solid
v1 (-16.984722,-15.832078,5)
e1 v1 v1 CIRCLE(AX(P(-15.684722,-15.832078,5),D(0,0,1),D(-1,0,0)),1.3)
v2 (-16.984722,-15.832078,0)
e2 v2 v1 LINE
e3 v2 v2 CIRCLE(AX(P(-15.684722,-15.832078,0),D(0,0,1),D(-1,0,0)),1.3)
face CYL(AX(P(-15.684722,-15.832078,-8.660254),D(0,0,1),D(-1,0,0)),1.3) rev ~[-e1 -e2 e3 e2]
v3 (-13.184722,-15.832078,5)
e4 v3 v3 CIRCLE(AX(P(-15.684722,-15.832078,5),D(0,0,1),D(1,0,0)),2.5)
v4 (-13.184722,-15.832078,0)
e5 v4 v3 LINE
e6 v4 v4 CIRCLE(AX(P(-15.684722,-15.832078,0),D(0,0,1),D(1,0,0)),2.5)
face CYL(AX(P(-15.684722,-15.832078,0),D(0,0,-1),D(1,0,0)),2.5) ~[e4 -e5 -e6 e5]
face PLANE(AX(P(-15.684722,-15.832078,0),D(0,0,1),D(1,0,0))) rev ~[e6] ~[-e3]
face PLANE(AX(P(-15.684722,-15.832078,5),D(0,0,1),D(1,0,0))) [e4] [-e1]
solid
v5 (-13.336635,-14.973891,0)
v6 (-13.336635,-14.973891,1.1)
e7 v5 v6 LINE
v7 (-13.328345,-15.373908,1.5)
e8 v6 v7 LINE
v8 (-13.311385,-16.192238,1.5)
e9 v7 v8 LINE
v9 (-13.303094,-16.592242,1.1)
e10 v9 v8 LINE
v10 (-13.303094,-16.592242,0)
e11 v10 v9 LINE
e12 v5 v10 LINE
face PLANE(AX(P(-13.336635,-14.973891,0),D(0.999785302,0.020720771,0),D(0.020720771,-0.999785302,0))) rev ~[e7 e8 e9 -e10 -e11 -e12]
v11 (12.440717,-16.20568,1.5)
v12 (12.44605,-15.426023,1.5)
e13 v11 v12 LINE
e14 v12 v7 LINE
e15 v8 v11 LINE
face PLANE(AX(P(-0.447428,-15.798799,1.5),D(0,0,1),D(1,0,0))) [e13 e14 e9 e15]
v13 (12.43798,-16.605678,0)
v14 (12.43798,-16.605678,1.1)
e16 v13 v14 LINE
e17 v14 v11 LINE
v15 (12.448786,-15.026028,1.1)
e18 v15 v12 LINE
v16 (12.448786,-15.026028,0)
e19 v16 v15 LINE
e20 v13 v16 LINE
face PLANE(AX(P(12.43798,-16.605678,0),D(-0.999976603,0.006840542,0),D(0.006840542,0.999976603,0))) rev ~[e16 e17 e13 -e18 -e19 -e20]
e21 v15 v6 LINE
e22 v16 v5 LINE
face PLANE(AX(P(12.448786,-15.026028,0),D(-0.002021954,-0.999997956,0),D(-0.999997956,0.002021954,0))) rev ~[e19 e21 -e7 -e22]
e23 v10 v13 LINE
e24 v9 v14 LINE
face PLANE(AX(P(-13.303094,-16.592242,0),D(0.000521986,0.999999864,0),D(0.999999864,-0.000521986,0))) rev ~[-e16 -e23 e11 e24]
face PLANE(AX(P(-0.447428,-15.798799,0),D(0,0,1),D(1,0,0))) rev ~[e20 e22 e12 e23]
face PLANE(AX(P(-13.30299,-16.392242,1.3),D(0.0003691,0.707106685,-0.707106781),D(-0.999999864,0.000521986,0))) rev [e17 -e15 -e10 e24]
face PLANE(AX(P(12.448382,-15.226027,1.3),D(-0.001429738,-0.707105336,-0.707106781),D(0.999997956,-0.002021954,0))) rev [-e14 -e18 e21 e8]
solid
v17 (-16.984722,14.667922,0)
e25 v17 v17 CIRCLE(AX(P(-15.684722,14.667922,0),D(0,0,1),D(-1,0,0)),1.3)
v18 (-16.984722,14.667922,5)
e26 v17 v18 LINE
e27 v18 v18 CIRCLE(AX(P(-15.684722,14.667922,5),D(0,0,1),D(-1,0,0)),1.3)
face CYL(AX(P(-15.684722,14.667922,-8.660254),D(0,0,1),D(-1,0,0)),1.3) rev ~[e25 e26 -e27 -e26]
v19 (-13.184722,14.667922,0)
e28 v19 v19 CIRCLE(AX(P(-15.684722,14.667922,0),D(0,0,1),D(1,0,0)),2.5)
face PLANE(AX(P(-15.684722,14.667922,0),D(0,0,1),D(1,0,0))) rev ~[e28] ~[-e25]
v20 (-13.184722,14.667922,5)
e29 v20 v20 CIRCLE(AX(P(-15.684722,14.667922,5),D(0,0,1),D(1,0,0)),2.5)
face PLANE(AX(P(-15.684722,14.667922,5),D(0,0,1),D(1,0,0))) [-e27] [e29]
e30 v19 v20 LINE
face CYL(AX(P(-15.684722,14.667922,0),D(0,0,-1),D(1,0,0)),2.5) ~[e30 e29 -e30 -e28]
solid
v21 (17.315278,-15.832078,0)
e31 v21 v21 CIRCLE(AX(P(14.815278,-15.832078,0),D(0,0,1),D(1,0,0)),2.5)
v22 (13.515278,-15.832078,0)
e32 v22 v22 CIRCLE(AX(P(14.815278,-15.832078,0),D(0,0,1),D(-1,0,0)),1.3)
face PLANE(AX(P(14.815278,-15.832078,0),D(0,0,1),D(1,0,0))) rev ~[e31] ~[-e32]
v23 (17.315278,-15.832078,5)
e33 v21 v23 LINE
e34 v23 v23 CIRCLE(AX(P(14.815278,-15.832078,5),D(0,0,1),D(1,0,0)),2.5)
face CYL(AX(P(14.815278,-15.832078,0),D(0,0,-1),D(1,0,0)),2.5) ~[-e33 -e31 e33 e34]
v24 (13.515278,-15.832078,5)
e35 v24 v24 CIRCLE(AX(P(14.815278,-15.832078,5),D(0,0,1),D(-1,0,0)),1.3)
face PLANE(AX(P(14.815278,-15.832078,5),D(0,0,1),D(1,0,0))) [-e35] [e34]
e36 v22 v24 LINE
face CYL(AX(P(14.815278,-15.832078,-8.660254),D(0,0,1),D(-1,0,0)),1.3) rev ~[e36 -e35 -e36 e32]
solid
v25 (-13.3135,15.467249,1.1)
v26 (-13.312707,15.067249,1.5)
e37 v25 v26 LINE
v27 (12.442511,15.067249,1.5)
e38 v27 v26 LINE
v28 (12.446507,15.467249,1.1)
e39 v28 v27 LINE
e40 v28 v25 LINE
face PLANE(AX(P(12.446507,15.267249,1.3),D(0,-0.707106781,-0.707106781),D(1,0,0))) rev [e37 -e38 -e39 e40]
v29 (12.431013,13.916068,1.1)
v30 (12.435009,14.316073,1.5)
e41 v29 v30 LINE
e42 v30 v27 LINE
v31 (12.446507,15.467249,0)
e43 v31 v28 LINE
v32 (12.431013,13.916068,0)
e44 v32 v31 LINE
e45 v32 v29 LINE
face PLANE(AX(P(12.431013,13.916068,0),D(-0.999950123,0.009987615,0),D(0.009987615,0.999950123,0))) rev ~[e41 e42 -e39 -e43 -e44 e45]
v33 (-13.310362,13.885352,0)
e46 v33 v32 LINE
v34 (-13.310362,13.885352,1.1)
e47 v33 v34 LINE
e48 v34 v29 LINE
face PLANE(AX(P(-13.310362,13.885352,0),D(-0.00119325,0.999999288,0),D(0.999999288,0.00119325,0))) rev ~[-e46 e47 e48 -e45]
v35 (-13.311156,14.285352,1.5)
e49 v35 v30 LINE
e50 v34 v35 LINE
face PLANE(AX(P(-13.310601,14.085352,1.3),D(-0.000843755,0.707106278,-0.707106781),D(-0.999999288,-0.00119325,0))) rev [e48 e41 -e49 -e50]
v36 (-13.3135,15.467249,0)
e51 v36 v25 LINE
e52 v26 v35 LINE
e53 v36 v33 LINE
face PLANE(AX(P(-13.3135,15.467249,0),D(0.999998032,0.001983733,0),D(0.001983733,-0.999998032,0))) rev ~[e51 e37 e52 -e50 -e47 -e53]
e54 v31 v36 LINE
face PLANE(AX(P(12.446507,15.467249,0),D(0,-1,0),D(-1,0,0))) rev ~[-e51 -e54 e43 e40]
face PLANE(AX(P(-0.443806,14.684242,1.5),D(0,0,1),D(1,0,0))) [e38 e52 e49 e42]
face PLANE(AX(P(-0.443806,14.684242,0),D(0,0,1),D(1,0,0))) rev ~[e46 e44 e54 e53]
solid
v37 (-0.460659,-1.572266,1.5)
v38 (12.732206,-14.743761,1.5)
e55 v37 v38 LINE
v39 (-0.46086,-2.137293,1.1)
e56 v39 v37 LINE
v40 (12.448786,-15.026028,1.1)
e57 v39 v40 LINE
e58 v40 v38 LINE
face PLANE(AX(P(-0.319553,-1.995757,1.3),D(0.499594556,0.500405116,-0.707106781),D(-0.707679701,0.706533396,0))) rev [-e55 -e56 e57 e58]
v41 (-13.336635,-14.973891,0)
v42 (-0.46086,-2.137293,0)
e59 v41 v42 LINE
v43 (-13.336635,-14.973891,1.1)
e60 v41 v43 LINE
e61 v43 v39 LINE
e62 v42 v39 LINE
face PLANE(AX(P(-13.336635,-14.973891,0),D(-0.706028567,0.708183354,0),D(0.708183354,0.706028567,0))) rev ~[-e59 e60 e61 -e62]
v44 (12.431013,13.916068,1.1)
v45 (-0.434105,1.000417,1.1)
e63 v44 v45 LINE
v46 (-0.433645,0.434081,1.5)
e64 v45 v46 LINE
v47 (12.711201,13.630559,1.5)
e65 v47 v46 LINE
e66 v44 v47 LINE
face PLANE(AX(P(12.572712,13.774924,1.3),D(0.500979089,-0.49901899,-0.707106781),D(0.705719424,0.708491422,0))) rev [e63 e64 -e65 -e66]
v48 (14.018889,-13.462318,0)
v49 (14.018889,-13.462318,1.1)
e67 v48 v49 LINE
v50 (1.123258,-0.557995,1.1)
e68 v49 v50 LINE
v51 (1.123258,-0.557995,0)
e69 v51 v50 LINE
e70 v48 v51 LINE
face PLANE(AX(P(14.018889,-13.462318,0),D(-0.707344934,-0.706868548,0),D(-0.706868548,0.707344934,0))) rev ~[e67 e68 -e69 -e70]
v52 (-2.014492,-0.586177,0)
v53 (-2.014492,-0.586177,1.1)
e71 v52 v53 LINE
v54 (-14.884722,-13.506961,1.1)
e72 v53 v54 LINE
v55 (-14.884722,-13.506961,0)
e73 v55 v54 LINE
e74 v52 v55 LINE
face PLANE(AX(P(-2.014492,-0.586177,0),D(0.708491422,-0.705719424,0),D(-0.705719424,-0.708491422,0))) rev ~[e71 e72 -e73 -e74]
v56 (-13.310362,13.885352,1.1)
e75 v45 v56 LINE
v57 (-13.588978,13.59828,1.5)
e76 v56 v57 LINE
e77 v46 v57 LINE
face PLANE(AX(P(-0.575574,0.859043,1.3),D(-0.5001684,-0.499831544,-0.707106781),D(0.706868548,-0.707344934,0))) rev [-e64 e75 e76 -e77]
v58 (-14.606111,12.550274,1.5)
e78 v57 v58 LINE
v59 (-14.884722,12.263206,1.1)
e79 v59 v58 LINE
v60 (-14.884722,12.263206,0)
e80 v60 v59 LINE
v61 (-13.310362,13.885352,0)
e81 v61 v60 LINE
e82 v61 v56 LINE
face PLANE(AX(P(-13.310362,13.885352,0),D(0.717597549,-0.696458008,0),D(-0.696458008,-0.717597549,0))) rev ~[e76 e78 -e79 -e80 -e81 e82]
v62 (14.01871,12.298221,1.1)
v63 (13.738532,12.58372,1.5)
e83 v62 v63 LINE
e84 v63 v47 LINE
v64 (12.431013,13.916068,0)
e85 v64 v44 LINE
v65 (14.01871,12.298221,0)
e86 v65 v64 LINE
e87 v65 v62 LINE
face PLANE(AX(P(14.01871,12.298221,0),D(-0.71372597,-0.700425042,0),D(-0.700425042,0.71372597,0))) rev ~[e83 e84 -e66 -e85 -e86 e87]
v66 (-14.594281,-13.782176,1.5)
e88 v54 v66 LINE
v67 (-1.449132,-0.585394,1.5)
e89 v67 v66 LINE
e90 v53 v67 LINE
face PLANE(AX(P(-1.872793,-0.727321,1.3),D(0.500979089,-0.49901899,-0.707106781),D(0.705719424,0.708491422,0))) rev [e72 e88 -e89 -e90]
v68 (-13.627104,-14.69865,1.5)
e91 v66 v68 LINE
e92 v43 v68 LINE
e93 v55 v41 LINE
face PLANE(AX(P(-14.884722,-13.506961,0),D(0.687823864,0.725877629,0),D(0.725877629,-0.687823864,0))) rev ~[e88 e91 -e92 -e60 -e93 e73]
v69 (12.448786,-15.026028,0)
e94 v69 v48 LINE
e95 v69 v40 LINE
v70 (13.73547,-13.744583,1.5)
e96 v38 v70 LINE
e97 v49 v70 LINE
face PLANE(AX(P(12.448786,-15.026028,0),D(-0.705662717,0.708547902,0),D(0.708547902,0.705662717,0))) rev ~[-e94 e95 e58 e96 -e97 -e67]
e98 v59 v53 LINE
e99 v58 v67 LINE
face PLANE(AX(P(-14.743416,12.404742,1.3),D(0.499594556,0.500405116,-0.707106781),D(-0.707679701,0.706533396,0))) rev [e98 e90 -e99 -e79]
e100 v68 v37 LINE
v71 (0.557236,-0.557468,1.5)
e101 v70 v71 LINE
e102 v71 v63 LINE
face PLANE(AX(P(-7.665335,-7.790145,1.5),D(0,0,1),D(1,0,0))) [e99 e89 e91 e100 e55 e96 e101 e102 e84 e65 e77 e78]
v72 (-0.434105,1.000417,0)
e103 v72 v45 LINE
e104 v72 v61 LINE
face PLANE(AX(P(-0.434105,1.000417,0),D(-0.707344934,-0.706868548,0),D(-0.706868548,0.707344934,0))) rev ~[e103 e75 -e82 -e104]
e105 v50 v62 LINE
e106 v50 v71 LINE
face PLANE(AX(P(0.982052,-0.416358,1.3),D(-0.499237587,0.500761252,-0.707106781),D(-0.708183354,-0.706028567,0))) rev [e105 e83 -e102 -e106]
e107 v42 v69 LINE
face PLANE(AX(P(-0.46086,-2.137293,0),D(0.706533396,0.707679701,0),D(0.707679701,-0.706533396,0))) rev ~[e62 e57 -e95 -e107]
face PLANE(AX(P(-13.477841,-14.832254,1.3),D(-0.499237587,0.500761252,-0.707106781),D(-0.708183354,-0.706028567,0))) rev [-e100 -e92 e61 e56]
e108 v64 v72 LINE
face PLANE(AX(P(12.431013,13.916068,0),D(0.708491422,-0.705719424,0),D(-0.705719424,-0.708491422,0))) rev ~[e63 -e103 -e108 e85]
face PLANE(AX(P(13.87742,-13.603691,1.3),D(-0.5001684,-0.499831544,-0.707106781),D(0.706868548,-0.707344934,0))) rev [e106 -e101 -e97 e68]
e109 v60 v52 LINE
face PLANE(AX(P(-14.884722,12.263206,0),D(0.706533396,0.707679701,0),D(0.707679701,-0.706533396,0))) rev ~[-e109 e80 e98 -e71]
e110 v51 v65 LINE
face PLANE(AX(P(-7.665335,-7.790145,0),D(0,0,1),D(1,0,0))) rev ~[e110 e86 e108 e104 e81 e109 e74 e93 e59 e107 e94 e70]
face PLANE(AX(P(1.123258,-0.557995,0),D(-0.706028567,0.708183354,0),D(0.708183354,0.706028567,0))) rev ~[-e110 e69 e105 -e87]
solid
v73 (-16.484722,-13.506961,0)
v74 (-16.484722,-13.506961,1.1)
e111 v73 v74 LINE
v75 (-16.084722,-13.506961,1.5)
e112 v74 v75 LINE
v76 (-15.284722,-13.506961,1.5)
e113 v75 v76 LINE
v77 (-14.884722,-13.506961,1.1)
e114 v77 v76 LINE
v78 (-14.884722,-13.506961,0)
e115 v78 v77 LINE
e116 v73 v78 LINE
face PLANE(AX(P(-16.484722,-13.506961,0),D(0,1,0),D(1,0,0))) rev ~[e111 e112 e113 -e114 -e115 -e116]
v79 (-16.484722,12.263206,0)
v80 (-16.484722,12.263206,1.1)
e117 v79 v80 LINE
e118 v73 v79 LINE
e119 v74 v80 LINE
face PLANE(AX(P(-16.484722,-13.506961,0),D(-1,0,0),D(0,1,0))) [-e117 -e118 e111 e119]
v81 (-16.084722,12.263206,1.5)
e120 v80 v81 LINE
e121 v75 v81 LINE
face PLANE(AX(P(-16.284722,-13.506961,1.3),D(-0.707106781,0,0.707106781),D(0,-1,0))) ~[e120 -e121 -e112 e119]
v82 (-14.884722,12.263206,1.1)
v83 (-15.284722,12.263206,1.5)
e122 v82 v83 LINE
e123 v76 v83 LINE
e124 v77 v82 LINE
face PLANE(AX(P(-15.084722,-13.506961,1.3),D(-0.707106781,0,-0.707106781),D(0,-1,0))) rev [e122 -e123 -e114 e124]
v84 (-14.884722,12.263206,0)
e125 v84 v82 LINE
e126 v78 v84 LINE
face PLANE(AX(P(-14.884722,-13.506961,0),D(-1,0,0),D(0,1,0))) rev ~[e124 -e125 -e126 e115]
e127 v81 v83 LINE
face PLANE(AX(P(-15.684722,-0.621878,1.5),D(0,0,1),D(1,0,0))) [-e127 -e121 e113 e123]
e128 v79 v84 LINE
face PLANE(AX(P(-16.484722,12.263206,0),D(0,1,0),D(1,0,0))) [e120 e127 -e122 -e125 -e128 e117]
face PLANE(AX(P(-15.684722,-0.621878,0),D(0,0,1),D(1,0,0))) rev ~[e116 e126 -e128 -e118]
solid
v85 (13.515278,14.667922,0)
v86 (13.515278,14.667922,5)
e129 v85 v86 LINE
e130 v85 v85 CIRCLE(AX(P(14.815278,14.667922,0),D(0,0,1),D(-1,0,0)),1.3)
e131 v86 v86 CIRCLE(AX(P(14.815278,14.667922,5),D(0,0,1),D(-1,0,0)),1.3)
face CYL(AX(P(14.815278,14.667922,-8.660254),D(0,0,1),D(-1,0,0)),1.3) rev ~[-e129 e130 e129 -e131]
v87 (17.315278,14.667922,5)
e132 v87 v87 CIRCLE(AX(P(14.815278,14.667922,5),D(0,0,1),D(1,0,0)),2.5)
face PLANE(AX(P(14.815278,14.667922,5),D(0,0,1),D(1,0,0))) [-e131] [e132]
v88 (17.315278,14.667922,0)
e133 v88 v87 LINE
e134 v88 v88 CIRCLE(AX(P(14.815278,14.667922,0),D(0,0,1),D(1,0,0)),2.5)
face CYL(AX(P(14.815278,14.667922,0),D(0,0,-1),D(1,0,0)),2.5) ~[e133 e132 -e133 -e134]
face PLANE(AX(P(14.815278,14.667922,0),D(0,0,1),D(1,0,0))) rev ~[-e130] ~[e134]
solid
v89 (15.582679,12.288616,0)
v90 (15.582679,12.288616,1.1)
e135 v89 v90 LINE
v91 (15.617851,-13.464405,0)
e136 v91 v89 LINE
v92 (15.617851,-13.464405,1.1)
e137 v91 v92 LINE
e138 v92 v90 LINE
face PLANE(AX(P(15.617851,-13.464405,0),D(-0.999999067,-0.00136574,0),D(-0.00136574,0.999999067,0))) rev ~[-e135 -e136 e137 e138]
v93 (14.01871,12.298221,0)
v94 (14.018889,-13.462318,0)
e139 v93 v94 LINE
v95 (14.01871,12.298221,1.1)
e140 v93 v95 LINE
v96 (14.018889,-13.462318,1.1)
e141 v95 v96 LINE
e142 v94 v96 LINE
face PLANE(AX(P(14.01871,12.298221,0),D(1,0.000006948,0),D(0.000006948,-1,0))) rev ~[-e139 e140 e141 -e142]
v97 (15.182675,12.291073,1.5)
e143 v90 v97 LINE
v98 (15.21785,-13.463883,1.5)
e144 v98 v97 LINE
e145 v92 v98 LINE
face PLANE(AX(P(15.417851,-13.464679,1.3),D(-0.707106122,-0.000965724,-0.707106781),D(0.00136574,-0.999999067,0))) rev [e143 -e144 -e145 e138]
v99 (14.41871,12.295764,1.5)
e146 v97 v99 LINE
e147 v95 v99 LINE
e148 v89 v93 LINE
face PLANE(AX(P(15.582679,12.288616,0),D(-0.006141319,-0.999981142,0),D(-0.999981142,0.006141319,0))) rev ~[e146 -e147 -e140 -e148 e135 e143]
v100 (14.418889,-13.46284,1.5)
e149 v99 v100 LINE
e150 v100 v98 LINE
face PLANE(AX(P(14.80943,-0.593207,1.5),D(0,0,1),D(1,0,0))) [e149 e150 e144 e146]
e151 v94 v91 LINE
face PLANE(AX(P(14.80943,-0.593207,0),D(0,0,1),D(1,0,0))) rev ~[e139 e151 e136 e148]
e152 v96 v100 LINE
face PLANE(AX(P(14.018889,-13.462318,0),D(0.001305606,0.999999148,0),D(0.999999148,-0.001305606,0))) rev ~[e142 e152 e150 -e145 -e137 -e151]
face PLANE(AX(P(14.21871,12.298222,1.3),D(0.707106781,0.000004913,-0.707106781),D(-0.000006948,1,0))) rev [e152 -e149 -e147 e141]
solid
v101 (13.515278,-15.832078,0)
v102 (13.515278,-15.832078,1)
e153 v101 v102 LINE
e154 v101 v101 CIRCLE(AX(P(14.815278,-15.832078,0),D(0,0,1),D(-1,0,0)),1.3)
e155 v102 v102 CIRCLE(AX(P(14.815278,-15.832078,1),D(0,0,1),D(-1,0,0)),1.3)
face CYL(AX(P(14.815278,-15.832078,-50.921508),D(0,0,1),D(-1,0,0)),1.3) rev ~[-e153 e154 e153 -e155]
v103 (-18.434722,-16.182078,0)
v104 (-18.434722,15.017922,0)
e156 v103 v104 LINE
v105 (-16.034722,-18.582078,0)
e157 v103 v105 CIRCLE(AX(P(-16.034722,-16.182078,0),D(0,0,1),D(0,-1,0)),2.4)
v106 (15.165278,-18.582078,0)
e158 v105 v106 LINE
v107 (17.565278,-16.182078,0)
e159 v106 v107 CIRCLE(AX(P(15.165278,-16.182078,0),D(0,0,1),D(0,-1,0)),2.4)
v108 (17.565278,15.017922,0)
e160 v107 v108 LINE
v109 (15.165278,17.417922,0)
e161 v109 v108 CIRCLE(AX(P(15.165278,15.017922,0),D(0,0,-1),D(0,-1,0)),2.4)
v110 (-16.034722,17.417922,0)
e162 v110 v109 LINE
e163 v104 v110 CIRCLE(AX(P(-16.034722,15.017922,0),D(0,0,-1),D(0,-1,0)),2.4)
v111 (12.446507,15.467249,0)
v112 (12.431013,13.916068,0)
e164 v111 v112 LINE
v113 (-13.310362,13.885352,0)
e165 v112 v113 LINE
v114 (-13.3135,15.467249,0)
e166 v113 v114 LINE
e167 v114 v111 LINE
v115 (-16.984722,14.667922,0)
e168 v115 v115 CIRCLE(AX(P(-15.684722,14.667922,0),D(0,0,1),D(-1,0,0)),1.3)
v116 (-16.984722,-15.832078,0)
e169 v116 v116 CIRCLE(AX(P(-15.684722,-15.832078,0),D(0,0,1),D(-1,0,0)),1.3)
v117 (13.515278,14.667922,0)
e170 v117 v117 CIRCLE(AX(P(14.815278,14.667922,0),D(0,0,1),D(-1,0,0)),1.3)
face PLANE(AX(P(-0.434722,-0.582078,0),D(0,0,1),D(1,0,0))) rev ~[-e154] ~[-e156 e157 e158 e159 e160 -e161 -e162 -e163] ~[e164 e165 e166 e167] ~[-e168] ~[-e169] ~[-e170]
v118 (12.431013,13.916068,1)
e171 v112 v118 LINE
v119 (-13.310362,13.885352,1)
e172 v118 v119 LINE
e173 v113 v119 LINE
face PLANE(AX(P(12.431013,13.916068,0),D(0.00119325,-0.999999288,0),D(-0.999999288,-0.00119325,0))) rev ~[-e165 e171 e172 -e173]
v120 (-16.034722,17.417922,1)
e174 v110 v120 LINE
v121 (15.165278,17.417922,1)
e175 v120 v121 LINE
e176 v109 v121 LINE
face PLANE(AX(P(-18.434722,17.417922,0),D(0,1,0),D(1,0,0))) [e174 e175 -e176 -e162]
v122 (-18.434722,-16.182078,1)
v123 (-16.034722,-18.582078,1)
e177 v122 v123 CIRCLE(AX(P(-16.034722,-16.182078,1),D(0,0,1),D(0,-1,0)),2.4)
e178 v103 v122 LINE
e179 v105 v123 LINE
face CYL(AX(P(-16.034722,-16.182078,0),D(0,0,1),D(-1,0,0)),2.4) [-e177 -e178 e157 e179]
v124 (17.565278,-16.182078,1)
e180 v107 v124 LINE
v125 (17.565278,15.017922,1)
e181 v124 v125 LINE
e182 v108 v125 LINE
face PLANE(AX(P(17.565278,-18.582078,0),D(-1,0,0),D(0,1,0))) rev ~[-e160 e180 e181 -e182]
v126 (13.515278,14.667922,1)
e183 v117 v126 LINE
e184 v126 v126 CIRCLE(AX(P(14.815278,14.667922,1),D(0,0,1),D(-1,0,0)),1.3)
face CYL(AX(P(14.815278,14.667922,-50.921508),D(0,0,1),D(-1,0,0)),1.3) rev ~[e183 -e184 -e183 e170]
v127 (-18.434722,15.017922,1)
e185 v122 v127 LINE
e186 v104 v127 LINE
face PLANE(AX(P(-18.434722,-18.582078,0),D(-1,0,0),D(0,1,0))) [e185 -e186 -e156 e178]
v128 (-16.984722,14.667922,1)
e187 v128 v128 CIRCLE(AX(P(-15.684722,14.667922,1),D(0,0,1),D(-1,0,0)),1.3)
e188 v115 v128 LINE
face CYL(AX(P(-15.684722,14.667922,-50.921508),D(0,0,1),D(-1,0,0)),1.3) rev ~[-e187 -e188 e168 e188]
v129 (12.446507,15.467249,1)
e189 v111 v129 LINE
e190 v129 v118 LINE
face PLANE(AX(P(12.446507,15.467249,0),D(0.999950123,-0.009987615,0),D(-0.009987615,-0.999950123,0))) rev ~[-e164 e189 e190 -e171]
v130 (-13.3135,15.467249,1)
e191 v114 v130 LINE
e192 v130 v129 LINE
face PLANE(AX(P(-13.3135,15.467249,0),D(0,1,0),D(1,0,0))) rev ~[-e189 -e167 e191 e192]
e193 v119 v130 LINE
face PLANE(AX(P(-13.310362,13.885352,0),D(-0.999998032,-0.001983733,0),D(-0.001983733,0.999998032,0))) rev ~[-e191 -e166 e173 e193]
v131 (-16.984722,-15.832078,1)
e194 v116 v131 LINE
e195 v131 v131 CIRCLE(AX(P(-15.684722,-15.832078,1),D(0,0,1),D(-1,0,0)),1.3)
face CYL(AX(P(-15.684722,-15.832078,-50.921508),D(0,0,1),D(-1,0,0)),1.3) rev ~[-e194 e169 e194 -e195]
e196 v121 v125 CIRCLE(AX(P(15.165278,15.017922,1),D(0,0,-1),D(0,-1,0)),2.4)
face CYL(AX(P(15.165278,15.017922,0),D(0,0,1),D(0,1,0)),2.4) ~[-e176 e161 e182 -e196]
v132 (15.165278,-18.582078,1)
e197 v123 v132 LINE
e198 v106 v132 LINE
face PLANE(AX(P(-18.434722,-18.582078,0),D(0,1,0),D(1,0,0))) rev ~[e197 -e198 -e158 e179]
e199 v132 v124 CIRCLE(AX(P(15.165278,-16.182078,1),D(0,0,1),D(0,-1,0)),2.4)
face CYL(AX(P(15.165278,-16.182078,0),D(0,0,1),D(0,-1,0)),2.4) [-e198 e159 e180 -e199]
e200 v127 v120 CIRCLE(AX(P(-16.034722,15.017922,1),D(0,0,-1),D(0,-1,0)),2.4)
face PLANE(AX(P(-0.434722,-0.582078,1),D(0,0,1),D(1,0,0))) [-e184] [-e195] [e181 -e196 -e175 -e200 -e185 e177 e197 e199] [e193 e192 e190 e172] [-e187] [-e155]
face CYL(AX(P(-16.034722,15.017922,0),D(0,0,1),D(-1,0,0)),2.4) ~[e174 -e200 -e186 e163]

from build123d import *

# Parameters (mm, degrees)
F1_W      = 36
F1_H      = 36
F1_W_2    = 1.6
F1_H_2    = 25.7701668888
F3_DEPTH  = 1
F4_DEPTH  = 1.5
F0_R      = 2.5
F5_DEPTH  = 5
F6_D      = 2.6
F6_2_D    = 2.6
F6_3_D    = 2.6
F6_4_D    = 2.6
F6_5_D    = 2.6
F7_R      = 2.4
F8_SIZE   = 0.4
F8_2_SIZE = 0.4
F8_3_SIZE = 0.4
F8_4_SIZE = 0.4
F8_5_SIZE = 0.4


with BuildPart() as f3:
    # F1 (on Top) → F3 (new body)
    with BuildSketch(Plane.XY):
        with Locations((-0.4347223143, -0.5820784718)):
            Rectangle(F1_W, F1_H)
        Polygon((-14.8847223143, -13.5069610551), (-16.4847223143, -13.5069610551), (-16.4847223143, 12.2632058337), (-14.8847223143, 12.2632058337), (-13.3103623299, 13.8853522568), (-13.3135003961, 15.4672487407), (12.4465066948, 15.4672487407), (12.4310133279, 13.9160681699), (14.0187104725, 12.2982209828), (15.5826791858, 12.2886159704), (15.6178511423, -13.4644053848), (14.0188894569, -13.4623177689), (12.4487861792, -15.0260276361), (12.4379802584, -16.6056784602), (-13.3030944143, -16.5922419713), (-13.3366351046, -14.9738905812), align=None, mode=Mode.SUBTRACT)
        Polygon((14.0187104725, 12.2982209828), (1.1232575467, -0.557994994), (14.0188894569, -13.4623177689), align=None)
        Polygon((12.4310133279, 13.9160681699), (-13.3103623299, 13.8853522568), (-0.4341048877, 1.0004170071), align=None)
        Polygon((-0.4608600238, -2.1372925756), (-13.3366351046, -14.9738905812), (12.4487861792, -15.0260276361), align=None)
        Polygon((-14.8847223143, 12.2632058337), (-14.8847223143, -13.5069610551), (-2.0144917355, -0.5861774483), align=None)
        with Locations((-15.6847223143, -0.6218776107)):
            Rectangle(F1_W_2, F1_H_2)
        Polygon((12.4487861792, -15.0260276361), (-13.3366351046, -14.9738905812), (-13.3030944143, -16.5922419713), (12.4379802584, -16.6056784602), align=None)
        Polygon((-13.3103623299, 13.8853522568), (-14.8847223143, 12.2632058337), (-2.0144917355, -0.5861774483), (-0.4341048877, 1.0004170071), align=None)
        Polygon((14.0187104725, 12.2982209828), (14.0188894569, -13.4623177689), (15.6178511423, -13.4644053848), (15.5826791858, 12.2886159704), align=None)
        Polygon((12.4310133279, 13.9160681699), (-0.4341048877, 1.0004170071), (1.1232575467, -0.557994994), (14.0187104725, 12.2982209828), align=None)
        Polygon((1.1232575467, -0.557994994), (-0.4608600238, -2.1372925756), (12.4487861792, -15.0260276361), (14.0188894569, -13.4623177689), align=None)
        Polygon((-2.0144917355, -0.5861774483), (-14.8847223143, -13.5069610551), (-13.3366351046, -14.9738905812), (-0.4608600238, -2.1372925756), align=None)
        Polygon((-0.4341048877, 1.0004170071), (-2.0144917355, -0.5861774483), (-0.4608600238, -2.1372925756), (1.1232575467, -0.557994994), align=None)
    extrude(amount=F3_DEPTH)

    # F6 (through all)
    with Locations(Plane(origin=(0, 0, 0), x_dir=(1, 0, 0), z_dir=(0, 0, -1))):
        with Locations((14.8152776857, -14.6679215282), (-15.6847223143, -14.6679215282), (-15.6847223143, 15.8320784718), (14.8152776857, 15.8320784718)):
            Hole(F6_D / 2)

    # F7
    f7_edges = [f3.edges().sort_by_distance(p)[0] for p in [
        (17.565278, -18.582078, 0.5),
        (17.565278, 17.417922, 0.5),
        (-18.434722, -18.582078, 0.5),
        (-18.434722, 17.417922, 0.5),
    ]]
    fillet(f7_edges, radius=F7_R)


with BuildPart() as f4:
    # F1 (on Top) → F4 (new body)
    with BuildSketch(Plane.XY):
        with Locations((-15.6847223143, -0.6218776107)):
            Rectangle(F1_W_2, F1_H_2)
    extrude(amount=F4_DEPTH)

    # F8
    f8_edges = [f4.edges().sort_by_distance(p)[0] for p in [
        (-14.884722, -0.621878, 1.5),
        (-16.484722, -0.621878, 1.5),
    ]]
    chamfer(f8_edges, length=F8_SIZE)


with BuildPart() as f4b:
    # F1 (on Top) → F4, piece 2 (new body)
    with BuildSketch(Plane.XY):
        Polygon((12.4487861792, -15.0260276361), (-13.3366351046, -14.9738905812), (-13.3030944143, -16.5922419713), (12.4379802584, -16.6056784602), align=None)
    extrude(amount=F4_DEPTH)

    # F8#3
    f8_3_edges = [f4b.edges().sort_by_distance(p)[0] for p in [
        (-0.443924, -14.999959, 1.5),
        (-0.432557, -16.59896, 1.5),
    ]]
    chamfer(f8_3_edges, length=F8_3_SIZE)


with BuildPart() as f4c:
    # F1 (on Top) → F4, piece 3 (new body)
    with BuildSketch(Plane.XY):
        Polygon((-2.0144917355, -0.5861774483), (-14.8847223143, -13.5069610551), (-13.3366351046, -14.9738905812), (-0.4608600238, -2.1372925756), align=None)
        Polygon((1.1232575467, -0.557994994), (-0.4608600238, -2.1372925756), (12.4487861792, -15.0260276361), (14.0188894569, -13.4623177689), align=None)
        Polygon((-0.4341048877, 1.0004170071), (-2.0144917355, -0.5861774483), (-0.4608600238, -2.1372925756), (1.1232575467, -0.557994994), align=None)
        Polygon((-13.3103623299, 13.8853522568), (-14.8847223143, 12.2632058337), (-2.0144917355, -0.5861774483), (-0.4341048877, 1.0004170071), align=None)
        Polygon((12.4310133279, 13.9160681699), (-0.4341048877, 1.0004170071), (1.1232575467, -0.557994994), (14.0187104725, 12.2982209828), align=None)
    extrude(amount=F4_DEPTH)

    # F8#2
    f8_2_edges = [f4c.edges().sort_by_distance(p)[0] for p in [
        (-8.449607, -7.046569, 1.5),
        (-6.898748, -8.555592, 1.5),
        (-8.449607, 5.838514, 1.5),
        (-6.872234, 7.442885, 1.5),
        (5.998454, 7.458243, 1.5),
        (7.570984, 5.870113, 1.5),
        (7.571074, -7.010156, 1.5),
        (5.993963, -8.58166, 1.5),
    ]]
    chamfer(f8_2_edges, length=F8_2_SIZE)


with BuildPart() as f4d:
    # F1 (on Top) → F4, piece 4 (new body)
    with BuildSketch(Plane.XY):
        Polygon((-13.3135003961, 15.4672487407), (-13.3103623299, 13.8853522568), (12.4310133279, 13.9160681699), (12.4465066948, 15.4672487407), align=None)
    extrude(amount=F4_DEPTH)

    # F8#5
    f8_5_edges = [f4d.edges().sort_by_distance(p)[0] for p in [
        (-0.433497, 15.467249, 1.5),
        (-0.439675, 13.90071, 1.5),
    ]]
    chamfer(f8_5_edges, length=F8_5_SIZE)


with BuildPart() as f4e:
    # F1 (on Top) → F4, piece 5 (new body)
    with BuildSketch(Plane.XY):
        Polygon((14.0187104725, 12.2982209828), (14.0188894569, -13.4623177689), (15.6178511423, -13.4644053848), (15.5826791858, 12.2886159704), align=None)
    extrude(amount=F4_DEPTH)

    # F8#4
    f8_4_edges = [f4e.edges().sort_by_distance(p)[0] for p in [
        (14.0188, -0.582048, 1.5),
        (15.600265, -0.587895, 1.5),
    ]]
    chamfer(f8_4_edges, length=F8_4_SIZE)


with BuildPart() as f5:
    # F0 (on Top) → F5 (new body)
    with BuildSketch(Plane.XY):
        with Locations((-15.6847223143, 14.6679215282)):
            Circle(F0_R)
    extrude(amount=F5_DEPTH)

    # F6#2 (through all)
    with Locations(Plane(origin=(0, 0, 0), x_dir=(1, 0, 0), z_dir=(0, 0, -1))):
        with Locations((14.8152776857, -14.6679215282), (-15.6847223143, -14.6679215282), (-15.6847223143, 15.8320784718), (14.8152776857, 15.8320784718)):
            Hole(F6_2_D / 2)


with BuildPart() as f5b:
    # F0 (on Top) → F5, piece 2 (new body)
    with BuildSketch(Plane.XY):
        with Locations((14.8152776857, 14.6679215282)):
            Circle(F0_R)
    extrude(amount=F5_DEPTH)

    # F6#3 (through all)
    with Locations(Plane(origin=(0, 0, 0), x_dir=(1, 0, 0), z_dir=(0, 0, -1))):
        with Locations((14.8152776857, -14.6679215282), (-15.6847223143, -14.6679215282), (-15.6847223143, 15.8320784718), (14.8152776857, 15.8320784718)):
            Hole(F6_3_D / 2)


with BuildPart() as f5c:
    # F0 (on Top) → F5, piece 3 (new body)
    with BuildSketch(Plane.XY):
        with Locations((14.8152776857, -15.8320784718)):
            Circle(F0_R)
    extrude(amount=F5_DEPTH)

    # F6#4 (through all)
    with Locations(Plane(origin=(0, 0, 0), x_dir=(1, 0, 0), z_dir=(0, 0, -1))):
        with Locations((14.8152776857, -14.6679215282), (-15.6847223143, -14.6679215282), (-15.6847223143, 15.8320784718), (14.8152776857, 15.8320784718)):
            Hole(F6_4_D / 2)


with BuildPart() as f5d:
    # F0 (on Top) → F5, piece 4 (new body)
    with BuildSketch(Plane.XY):
        with Locations((-15.6847223143, -15.8320784718)):
            Circle(F0_R)
    extrude(amount=F5_DEPTH)

    # F6#5 (through all)
    with Locations(Plane(origin=(0, 0, 0), x_dir=(1, 0, 0), z_dir=(0, 0, -1))):
        with Locations((14.8152776857, -14.6679215282), (-15.6847223143, -14.6679215282), (-15.6847223143, 15.8320784718), (14.8152776857, 15.8320784718)):
            Hole(F6_5_D / 2)


solid = Compound([f3.part, f4.part, f4b.part, f4c.part, f4d.part, f4e.part, f5.part, f5b.part, f5c.part, f5d.part])
